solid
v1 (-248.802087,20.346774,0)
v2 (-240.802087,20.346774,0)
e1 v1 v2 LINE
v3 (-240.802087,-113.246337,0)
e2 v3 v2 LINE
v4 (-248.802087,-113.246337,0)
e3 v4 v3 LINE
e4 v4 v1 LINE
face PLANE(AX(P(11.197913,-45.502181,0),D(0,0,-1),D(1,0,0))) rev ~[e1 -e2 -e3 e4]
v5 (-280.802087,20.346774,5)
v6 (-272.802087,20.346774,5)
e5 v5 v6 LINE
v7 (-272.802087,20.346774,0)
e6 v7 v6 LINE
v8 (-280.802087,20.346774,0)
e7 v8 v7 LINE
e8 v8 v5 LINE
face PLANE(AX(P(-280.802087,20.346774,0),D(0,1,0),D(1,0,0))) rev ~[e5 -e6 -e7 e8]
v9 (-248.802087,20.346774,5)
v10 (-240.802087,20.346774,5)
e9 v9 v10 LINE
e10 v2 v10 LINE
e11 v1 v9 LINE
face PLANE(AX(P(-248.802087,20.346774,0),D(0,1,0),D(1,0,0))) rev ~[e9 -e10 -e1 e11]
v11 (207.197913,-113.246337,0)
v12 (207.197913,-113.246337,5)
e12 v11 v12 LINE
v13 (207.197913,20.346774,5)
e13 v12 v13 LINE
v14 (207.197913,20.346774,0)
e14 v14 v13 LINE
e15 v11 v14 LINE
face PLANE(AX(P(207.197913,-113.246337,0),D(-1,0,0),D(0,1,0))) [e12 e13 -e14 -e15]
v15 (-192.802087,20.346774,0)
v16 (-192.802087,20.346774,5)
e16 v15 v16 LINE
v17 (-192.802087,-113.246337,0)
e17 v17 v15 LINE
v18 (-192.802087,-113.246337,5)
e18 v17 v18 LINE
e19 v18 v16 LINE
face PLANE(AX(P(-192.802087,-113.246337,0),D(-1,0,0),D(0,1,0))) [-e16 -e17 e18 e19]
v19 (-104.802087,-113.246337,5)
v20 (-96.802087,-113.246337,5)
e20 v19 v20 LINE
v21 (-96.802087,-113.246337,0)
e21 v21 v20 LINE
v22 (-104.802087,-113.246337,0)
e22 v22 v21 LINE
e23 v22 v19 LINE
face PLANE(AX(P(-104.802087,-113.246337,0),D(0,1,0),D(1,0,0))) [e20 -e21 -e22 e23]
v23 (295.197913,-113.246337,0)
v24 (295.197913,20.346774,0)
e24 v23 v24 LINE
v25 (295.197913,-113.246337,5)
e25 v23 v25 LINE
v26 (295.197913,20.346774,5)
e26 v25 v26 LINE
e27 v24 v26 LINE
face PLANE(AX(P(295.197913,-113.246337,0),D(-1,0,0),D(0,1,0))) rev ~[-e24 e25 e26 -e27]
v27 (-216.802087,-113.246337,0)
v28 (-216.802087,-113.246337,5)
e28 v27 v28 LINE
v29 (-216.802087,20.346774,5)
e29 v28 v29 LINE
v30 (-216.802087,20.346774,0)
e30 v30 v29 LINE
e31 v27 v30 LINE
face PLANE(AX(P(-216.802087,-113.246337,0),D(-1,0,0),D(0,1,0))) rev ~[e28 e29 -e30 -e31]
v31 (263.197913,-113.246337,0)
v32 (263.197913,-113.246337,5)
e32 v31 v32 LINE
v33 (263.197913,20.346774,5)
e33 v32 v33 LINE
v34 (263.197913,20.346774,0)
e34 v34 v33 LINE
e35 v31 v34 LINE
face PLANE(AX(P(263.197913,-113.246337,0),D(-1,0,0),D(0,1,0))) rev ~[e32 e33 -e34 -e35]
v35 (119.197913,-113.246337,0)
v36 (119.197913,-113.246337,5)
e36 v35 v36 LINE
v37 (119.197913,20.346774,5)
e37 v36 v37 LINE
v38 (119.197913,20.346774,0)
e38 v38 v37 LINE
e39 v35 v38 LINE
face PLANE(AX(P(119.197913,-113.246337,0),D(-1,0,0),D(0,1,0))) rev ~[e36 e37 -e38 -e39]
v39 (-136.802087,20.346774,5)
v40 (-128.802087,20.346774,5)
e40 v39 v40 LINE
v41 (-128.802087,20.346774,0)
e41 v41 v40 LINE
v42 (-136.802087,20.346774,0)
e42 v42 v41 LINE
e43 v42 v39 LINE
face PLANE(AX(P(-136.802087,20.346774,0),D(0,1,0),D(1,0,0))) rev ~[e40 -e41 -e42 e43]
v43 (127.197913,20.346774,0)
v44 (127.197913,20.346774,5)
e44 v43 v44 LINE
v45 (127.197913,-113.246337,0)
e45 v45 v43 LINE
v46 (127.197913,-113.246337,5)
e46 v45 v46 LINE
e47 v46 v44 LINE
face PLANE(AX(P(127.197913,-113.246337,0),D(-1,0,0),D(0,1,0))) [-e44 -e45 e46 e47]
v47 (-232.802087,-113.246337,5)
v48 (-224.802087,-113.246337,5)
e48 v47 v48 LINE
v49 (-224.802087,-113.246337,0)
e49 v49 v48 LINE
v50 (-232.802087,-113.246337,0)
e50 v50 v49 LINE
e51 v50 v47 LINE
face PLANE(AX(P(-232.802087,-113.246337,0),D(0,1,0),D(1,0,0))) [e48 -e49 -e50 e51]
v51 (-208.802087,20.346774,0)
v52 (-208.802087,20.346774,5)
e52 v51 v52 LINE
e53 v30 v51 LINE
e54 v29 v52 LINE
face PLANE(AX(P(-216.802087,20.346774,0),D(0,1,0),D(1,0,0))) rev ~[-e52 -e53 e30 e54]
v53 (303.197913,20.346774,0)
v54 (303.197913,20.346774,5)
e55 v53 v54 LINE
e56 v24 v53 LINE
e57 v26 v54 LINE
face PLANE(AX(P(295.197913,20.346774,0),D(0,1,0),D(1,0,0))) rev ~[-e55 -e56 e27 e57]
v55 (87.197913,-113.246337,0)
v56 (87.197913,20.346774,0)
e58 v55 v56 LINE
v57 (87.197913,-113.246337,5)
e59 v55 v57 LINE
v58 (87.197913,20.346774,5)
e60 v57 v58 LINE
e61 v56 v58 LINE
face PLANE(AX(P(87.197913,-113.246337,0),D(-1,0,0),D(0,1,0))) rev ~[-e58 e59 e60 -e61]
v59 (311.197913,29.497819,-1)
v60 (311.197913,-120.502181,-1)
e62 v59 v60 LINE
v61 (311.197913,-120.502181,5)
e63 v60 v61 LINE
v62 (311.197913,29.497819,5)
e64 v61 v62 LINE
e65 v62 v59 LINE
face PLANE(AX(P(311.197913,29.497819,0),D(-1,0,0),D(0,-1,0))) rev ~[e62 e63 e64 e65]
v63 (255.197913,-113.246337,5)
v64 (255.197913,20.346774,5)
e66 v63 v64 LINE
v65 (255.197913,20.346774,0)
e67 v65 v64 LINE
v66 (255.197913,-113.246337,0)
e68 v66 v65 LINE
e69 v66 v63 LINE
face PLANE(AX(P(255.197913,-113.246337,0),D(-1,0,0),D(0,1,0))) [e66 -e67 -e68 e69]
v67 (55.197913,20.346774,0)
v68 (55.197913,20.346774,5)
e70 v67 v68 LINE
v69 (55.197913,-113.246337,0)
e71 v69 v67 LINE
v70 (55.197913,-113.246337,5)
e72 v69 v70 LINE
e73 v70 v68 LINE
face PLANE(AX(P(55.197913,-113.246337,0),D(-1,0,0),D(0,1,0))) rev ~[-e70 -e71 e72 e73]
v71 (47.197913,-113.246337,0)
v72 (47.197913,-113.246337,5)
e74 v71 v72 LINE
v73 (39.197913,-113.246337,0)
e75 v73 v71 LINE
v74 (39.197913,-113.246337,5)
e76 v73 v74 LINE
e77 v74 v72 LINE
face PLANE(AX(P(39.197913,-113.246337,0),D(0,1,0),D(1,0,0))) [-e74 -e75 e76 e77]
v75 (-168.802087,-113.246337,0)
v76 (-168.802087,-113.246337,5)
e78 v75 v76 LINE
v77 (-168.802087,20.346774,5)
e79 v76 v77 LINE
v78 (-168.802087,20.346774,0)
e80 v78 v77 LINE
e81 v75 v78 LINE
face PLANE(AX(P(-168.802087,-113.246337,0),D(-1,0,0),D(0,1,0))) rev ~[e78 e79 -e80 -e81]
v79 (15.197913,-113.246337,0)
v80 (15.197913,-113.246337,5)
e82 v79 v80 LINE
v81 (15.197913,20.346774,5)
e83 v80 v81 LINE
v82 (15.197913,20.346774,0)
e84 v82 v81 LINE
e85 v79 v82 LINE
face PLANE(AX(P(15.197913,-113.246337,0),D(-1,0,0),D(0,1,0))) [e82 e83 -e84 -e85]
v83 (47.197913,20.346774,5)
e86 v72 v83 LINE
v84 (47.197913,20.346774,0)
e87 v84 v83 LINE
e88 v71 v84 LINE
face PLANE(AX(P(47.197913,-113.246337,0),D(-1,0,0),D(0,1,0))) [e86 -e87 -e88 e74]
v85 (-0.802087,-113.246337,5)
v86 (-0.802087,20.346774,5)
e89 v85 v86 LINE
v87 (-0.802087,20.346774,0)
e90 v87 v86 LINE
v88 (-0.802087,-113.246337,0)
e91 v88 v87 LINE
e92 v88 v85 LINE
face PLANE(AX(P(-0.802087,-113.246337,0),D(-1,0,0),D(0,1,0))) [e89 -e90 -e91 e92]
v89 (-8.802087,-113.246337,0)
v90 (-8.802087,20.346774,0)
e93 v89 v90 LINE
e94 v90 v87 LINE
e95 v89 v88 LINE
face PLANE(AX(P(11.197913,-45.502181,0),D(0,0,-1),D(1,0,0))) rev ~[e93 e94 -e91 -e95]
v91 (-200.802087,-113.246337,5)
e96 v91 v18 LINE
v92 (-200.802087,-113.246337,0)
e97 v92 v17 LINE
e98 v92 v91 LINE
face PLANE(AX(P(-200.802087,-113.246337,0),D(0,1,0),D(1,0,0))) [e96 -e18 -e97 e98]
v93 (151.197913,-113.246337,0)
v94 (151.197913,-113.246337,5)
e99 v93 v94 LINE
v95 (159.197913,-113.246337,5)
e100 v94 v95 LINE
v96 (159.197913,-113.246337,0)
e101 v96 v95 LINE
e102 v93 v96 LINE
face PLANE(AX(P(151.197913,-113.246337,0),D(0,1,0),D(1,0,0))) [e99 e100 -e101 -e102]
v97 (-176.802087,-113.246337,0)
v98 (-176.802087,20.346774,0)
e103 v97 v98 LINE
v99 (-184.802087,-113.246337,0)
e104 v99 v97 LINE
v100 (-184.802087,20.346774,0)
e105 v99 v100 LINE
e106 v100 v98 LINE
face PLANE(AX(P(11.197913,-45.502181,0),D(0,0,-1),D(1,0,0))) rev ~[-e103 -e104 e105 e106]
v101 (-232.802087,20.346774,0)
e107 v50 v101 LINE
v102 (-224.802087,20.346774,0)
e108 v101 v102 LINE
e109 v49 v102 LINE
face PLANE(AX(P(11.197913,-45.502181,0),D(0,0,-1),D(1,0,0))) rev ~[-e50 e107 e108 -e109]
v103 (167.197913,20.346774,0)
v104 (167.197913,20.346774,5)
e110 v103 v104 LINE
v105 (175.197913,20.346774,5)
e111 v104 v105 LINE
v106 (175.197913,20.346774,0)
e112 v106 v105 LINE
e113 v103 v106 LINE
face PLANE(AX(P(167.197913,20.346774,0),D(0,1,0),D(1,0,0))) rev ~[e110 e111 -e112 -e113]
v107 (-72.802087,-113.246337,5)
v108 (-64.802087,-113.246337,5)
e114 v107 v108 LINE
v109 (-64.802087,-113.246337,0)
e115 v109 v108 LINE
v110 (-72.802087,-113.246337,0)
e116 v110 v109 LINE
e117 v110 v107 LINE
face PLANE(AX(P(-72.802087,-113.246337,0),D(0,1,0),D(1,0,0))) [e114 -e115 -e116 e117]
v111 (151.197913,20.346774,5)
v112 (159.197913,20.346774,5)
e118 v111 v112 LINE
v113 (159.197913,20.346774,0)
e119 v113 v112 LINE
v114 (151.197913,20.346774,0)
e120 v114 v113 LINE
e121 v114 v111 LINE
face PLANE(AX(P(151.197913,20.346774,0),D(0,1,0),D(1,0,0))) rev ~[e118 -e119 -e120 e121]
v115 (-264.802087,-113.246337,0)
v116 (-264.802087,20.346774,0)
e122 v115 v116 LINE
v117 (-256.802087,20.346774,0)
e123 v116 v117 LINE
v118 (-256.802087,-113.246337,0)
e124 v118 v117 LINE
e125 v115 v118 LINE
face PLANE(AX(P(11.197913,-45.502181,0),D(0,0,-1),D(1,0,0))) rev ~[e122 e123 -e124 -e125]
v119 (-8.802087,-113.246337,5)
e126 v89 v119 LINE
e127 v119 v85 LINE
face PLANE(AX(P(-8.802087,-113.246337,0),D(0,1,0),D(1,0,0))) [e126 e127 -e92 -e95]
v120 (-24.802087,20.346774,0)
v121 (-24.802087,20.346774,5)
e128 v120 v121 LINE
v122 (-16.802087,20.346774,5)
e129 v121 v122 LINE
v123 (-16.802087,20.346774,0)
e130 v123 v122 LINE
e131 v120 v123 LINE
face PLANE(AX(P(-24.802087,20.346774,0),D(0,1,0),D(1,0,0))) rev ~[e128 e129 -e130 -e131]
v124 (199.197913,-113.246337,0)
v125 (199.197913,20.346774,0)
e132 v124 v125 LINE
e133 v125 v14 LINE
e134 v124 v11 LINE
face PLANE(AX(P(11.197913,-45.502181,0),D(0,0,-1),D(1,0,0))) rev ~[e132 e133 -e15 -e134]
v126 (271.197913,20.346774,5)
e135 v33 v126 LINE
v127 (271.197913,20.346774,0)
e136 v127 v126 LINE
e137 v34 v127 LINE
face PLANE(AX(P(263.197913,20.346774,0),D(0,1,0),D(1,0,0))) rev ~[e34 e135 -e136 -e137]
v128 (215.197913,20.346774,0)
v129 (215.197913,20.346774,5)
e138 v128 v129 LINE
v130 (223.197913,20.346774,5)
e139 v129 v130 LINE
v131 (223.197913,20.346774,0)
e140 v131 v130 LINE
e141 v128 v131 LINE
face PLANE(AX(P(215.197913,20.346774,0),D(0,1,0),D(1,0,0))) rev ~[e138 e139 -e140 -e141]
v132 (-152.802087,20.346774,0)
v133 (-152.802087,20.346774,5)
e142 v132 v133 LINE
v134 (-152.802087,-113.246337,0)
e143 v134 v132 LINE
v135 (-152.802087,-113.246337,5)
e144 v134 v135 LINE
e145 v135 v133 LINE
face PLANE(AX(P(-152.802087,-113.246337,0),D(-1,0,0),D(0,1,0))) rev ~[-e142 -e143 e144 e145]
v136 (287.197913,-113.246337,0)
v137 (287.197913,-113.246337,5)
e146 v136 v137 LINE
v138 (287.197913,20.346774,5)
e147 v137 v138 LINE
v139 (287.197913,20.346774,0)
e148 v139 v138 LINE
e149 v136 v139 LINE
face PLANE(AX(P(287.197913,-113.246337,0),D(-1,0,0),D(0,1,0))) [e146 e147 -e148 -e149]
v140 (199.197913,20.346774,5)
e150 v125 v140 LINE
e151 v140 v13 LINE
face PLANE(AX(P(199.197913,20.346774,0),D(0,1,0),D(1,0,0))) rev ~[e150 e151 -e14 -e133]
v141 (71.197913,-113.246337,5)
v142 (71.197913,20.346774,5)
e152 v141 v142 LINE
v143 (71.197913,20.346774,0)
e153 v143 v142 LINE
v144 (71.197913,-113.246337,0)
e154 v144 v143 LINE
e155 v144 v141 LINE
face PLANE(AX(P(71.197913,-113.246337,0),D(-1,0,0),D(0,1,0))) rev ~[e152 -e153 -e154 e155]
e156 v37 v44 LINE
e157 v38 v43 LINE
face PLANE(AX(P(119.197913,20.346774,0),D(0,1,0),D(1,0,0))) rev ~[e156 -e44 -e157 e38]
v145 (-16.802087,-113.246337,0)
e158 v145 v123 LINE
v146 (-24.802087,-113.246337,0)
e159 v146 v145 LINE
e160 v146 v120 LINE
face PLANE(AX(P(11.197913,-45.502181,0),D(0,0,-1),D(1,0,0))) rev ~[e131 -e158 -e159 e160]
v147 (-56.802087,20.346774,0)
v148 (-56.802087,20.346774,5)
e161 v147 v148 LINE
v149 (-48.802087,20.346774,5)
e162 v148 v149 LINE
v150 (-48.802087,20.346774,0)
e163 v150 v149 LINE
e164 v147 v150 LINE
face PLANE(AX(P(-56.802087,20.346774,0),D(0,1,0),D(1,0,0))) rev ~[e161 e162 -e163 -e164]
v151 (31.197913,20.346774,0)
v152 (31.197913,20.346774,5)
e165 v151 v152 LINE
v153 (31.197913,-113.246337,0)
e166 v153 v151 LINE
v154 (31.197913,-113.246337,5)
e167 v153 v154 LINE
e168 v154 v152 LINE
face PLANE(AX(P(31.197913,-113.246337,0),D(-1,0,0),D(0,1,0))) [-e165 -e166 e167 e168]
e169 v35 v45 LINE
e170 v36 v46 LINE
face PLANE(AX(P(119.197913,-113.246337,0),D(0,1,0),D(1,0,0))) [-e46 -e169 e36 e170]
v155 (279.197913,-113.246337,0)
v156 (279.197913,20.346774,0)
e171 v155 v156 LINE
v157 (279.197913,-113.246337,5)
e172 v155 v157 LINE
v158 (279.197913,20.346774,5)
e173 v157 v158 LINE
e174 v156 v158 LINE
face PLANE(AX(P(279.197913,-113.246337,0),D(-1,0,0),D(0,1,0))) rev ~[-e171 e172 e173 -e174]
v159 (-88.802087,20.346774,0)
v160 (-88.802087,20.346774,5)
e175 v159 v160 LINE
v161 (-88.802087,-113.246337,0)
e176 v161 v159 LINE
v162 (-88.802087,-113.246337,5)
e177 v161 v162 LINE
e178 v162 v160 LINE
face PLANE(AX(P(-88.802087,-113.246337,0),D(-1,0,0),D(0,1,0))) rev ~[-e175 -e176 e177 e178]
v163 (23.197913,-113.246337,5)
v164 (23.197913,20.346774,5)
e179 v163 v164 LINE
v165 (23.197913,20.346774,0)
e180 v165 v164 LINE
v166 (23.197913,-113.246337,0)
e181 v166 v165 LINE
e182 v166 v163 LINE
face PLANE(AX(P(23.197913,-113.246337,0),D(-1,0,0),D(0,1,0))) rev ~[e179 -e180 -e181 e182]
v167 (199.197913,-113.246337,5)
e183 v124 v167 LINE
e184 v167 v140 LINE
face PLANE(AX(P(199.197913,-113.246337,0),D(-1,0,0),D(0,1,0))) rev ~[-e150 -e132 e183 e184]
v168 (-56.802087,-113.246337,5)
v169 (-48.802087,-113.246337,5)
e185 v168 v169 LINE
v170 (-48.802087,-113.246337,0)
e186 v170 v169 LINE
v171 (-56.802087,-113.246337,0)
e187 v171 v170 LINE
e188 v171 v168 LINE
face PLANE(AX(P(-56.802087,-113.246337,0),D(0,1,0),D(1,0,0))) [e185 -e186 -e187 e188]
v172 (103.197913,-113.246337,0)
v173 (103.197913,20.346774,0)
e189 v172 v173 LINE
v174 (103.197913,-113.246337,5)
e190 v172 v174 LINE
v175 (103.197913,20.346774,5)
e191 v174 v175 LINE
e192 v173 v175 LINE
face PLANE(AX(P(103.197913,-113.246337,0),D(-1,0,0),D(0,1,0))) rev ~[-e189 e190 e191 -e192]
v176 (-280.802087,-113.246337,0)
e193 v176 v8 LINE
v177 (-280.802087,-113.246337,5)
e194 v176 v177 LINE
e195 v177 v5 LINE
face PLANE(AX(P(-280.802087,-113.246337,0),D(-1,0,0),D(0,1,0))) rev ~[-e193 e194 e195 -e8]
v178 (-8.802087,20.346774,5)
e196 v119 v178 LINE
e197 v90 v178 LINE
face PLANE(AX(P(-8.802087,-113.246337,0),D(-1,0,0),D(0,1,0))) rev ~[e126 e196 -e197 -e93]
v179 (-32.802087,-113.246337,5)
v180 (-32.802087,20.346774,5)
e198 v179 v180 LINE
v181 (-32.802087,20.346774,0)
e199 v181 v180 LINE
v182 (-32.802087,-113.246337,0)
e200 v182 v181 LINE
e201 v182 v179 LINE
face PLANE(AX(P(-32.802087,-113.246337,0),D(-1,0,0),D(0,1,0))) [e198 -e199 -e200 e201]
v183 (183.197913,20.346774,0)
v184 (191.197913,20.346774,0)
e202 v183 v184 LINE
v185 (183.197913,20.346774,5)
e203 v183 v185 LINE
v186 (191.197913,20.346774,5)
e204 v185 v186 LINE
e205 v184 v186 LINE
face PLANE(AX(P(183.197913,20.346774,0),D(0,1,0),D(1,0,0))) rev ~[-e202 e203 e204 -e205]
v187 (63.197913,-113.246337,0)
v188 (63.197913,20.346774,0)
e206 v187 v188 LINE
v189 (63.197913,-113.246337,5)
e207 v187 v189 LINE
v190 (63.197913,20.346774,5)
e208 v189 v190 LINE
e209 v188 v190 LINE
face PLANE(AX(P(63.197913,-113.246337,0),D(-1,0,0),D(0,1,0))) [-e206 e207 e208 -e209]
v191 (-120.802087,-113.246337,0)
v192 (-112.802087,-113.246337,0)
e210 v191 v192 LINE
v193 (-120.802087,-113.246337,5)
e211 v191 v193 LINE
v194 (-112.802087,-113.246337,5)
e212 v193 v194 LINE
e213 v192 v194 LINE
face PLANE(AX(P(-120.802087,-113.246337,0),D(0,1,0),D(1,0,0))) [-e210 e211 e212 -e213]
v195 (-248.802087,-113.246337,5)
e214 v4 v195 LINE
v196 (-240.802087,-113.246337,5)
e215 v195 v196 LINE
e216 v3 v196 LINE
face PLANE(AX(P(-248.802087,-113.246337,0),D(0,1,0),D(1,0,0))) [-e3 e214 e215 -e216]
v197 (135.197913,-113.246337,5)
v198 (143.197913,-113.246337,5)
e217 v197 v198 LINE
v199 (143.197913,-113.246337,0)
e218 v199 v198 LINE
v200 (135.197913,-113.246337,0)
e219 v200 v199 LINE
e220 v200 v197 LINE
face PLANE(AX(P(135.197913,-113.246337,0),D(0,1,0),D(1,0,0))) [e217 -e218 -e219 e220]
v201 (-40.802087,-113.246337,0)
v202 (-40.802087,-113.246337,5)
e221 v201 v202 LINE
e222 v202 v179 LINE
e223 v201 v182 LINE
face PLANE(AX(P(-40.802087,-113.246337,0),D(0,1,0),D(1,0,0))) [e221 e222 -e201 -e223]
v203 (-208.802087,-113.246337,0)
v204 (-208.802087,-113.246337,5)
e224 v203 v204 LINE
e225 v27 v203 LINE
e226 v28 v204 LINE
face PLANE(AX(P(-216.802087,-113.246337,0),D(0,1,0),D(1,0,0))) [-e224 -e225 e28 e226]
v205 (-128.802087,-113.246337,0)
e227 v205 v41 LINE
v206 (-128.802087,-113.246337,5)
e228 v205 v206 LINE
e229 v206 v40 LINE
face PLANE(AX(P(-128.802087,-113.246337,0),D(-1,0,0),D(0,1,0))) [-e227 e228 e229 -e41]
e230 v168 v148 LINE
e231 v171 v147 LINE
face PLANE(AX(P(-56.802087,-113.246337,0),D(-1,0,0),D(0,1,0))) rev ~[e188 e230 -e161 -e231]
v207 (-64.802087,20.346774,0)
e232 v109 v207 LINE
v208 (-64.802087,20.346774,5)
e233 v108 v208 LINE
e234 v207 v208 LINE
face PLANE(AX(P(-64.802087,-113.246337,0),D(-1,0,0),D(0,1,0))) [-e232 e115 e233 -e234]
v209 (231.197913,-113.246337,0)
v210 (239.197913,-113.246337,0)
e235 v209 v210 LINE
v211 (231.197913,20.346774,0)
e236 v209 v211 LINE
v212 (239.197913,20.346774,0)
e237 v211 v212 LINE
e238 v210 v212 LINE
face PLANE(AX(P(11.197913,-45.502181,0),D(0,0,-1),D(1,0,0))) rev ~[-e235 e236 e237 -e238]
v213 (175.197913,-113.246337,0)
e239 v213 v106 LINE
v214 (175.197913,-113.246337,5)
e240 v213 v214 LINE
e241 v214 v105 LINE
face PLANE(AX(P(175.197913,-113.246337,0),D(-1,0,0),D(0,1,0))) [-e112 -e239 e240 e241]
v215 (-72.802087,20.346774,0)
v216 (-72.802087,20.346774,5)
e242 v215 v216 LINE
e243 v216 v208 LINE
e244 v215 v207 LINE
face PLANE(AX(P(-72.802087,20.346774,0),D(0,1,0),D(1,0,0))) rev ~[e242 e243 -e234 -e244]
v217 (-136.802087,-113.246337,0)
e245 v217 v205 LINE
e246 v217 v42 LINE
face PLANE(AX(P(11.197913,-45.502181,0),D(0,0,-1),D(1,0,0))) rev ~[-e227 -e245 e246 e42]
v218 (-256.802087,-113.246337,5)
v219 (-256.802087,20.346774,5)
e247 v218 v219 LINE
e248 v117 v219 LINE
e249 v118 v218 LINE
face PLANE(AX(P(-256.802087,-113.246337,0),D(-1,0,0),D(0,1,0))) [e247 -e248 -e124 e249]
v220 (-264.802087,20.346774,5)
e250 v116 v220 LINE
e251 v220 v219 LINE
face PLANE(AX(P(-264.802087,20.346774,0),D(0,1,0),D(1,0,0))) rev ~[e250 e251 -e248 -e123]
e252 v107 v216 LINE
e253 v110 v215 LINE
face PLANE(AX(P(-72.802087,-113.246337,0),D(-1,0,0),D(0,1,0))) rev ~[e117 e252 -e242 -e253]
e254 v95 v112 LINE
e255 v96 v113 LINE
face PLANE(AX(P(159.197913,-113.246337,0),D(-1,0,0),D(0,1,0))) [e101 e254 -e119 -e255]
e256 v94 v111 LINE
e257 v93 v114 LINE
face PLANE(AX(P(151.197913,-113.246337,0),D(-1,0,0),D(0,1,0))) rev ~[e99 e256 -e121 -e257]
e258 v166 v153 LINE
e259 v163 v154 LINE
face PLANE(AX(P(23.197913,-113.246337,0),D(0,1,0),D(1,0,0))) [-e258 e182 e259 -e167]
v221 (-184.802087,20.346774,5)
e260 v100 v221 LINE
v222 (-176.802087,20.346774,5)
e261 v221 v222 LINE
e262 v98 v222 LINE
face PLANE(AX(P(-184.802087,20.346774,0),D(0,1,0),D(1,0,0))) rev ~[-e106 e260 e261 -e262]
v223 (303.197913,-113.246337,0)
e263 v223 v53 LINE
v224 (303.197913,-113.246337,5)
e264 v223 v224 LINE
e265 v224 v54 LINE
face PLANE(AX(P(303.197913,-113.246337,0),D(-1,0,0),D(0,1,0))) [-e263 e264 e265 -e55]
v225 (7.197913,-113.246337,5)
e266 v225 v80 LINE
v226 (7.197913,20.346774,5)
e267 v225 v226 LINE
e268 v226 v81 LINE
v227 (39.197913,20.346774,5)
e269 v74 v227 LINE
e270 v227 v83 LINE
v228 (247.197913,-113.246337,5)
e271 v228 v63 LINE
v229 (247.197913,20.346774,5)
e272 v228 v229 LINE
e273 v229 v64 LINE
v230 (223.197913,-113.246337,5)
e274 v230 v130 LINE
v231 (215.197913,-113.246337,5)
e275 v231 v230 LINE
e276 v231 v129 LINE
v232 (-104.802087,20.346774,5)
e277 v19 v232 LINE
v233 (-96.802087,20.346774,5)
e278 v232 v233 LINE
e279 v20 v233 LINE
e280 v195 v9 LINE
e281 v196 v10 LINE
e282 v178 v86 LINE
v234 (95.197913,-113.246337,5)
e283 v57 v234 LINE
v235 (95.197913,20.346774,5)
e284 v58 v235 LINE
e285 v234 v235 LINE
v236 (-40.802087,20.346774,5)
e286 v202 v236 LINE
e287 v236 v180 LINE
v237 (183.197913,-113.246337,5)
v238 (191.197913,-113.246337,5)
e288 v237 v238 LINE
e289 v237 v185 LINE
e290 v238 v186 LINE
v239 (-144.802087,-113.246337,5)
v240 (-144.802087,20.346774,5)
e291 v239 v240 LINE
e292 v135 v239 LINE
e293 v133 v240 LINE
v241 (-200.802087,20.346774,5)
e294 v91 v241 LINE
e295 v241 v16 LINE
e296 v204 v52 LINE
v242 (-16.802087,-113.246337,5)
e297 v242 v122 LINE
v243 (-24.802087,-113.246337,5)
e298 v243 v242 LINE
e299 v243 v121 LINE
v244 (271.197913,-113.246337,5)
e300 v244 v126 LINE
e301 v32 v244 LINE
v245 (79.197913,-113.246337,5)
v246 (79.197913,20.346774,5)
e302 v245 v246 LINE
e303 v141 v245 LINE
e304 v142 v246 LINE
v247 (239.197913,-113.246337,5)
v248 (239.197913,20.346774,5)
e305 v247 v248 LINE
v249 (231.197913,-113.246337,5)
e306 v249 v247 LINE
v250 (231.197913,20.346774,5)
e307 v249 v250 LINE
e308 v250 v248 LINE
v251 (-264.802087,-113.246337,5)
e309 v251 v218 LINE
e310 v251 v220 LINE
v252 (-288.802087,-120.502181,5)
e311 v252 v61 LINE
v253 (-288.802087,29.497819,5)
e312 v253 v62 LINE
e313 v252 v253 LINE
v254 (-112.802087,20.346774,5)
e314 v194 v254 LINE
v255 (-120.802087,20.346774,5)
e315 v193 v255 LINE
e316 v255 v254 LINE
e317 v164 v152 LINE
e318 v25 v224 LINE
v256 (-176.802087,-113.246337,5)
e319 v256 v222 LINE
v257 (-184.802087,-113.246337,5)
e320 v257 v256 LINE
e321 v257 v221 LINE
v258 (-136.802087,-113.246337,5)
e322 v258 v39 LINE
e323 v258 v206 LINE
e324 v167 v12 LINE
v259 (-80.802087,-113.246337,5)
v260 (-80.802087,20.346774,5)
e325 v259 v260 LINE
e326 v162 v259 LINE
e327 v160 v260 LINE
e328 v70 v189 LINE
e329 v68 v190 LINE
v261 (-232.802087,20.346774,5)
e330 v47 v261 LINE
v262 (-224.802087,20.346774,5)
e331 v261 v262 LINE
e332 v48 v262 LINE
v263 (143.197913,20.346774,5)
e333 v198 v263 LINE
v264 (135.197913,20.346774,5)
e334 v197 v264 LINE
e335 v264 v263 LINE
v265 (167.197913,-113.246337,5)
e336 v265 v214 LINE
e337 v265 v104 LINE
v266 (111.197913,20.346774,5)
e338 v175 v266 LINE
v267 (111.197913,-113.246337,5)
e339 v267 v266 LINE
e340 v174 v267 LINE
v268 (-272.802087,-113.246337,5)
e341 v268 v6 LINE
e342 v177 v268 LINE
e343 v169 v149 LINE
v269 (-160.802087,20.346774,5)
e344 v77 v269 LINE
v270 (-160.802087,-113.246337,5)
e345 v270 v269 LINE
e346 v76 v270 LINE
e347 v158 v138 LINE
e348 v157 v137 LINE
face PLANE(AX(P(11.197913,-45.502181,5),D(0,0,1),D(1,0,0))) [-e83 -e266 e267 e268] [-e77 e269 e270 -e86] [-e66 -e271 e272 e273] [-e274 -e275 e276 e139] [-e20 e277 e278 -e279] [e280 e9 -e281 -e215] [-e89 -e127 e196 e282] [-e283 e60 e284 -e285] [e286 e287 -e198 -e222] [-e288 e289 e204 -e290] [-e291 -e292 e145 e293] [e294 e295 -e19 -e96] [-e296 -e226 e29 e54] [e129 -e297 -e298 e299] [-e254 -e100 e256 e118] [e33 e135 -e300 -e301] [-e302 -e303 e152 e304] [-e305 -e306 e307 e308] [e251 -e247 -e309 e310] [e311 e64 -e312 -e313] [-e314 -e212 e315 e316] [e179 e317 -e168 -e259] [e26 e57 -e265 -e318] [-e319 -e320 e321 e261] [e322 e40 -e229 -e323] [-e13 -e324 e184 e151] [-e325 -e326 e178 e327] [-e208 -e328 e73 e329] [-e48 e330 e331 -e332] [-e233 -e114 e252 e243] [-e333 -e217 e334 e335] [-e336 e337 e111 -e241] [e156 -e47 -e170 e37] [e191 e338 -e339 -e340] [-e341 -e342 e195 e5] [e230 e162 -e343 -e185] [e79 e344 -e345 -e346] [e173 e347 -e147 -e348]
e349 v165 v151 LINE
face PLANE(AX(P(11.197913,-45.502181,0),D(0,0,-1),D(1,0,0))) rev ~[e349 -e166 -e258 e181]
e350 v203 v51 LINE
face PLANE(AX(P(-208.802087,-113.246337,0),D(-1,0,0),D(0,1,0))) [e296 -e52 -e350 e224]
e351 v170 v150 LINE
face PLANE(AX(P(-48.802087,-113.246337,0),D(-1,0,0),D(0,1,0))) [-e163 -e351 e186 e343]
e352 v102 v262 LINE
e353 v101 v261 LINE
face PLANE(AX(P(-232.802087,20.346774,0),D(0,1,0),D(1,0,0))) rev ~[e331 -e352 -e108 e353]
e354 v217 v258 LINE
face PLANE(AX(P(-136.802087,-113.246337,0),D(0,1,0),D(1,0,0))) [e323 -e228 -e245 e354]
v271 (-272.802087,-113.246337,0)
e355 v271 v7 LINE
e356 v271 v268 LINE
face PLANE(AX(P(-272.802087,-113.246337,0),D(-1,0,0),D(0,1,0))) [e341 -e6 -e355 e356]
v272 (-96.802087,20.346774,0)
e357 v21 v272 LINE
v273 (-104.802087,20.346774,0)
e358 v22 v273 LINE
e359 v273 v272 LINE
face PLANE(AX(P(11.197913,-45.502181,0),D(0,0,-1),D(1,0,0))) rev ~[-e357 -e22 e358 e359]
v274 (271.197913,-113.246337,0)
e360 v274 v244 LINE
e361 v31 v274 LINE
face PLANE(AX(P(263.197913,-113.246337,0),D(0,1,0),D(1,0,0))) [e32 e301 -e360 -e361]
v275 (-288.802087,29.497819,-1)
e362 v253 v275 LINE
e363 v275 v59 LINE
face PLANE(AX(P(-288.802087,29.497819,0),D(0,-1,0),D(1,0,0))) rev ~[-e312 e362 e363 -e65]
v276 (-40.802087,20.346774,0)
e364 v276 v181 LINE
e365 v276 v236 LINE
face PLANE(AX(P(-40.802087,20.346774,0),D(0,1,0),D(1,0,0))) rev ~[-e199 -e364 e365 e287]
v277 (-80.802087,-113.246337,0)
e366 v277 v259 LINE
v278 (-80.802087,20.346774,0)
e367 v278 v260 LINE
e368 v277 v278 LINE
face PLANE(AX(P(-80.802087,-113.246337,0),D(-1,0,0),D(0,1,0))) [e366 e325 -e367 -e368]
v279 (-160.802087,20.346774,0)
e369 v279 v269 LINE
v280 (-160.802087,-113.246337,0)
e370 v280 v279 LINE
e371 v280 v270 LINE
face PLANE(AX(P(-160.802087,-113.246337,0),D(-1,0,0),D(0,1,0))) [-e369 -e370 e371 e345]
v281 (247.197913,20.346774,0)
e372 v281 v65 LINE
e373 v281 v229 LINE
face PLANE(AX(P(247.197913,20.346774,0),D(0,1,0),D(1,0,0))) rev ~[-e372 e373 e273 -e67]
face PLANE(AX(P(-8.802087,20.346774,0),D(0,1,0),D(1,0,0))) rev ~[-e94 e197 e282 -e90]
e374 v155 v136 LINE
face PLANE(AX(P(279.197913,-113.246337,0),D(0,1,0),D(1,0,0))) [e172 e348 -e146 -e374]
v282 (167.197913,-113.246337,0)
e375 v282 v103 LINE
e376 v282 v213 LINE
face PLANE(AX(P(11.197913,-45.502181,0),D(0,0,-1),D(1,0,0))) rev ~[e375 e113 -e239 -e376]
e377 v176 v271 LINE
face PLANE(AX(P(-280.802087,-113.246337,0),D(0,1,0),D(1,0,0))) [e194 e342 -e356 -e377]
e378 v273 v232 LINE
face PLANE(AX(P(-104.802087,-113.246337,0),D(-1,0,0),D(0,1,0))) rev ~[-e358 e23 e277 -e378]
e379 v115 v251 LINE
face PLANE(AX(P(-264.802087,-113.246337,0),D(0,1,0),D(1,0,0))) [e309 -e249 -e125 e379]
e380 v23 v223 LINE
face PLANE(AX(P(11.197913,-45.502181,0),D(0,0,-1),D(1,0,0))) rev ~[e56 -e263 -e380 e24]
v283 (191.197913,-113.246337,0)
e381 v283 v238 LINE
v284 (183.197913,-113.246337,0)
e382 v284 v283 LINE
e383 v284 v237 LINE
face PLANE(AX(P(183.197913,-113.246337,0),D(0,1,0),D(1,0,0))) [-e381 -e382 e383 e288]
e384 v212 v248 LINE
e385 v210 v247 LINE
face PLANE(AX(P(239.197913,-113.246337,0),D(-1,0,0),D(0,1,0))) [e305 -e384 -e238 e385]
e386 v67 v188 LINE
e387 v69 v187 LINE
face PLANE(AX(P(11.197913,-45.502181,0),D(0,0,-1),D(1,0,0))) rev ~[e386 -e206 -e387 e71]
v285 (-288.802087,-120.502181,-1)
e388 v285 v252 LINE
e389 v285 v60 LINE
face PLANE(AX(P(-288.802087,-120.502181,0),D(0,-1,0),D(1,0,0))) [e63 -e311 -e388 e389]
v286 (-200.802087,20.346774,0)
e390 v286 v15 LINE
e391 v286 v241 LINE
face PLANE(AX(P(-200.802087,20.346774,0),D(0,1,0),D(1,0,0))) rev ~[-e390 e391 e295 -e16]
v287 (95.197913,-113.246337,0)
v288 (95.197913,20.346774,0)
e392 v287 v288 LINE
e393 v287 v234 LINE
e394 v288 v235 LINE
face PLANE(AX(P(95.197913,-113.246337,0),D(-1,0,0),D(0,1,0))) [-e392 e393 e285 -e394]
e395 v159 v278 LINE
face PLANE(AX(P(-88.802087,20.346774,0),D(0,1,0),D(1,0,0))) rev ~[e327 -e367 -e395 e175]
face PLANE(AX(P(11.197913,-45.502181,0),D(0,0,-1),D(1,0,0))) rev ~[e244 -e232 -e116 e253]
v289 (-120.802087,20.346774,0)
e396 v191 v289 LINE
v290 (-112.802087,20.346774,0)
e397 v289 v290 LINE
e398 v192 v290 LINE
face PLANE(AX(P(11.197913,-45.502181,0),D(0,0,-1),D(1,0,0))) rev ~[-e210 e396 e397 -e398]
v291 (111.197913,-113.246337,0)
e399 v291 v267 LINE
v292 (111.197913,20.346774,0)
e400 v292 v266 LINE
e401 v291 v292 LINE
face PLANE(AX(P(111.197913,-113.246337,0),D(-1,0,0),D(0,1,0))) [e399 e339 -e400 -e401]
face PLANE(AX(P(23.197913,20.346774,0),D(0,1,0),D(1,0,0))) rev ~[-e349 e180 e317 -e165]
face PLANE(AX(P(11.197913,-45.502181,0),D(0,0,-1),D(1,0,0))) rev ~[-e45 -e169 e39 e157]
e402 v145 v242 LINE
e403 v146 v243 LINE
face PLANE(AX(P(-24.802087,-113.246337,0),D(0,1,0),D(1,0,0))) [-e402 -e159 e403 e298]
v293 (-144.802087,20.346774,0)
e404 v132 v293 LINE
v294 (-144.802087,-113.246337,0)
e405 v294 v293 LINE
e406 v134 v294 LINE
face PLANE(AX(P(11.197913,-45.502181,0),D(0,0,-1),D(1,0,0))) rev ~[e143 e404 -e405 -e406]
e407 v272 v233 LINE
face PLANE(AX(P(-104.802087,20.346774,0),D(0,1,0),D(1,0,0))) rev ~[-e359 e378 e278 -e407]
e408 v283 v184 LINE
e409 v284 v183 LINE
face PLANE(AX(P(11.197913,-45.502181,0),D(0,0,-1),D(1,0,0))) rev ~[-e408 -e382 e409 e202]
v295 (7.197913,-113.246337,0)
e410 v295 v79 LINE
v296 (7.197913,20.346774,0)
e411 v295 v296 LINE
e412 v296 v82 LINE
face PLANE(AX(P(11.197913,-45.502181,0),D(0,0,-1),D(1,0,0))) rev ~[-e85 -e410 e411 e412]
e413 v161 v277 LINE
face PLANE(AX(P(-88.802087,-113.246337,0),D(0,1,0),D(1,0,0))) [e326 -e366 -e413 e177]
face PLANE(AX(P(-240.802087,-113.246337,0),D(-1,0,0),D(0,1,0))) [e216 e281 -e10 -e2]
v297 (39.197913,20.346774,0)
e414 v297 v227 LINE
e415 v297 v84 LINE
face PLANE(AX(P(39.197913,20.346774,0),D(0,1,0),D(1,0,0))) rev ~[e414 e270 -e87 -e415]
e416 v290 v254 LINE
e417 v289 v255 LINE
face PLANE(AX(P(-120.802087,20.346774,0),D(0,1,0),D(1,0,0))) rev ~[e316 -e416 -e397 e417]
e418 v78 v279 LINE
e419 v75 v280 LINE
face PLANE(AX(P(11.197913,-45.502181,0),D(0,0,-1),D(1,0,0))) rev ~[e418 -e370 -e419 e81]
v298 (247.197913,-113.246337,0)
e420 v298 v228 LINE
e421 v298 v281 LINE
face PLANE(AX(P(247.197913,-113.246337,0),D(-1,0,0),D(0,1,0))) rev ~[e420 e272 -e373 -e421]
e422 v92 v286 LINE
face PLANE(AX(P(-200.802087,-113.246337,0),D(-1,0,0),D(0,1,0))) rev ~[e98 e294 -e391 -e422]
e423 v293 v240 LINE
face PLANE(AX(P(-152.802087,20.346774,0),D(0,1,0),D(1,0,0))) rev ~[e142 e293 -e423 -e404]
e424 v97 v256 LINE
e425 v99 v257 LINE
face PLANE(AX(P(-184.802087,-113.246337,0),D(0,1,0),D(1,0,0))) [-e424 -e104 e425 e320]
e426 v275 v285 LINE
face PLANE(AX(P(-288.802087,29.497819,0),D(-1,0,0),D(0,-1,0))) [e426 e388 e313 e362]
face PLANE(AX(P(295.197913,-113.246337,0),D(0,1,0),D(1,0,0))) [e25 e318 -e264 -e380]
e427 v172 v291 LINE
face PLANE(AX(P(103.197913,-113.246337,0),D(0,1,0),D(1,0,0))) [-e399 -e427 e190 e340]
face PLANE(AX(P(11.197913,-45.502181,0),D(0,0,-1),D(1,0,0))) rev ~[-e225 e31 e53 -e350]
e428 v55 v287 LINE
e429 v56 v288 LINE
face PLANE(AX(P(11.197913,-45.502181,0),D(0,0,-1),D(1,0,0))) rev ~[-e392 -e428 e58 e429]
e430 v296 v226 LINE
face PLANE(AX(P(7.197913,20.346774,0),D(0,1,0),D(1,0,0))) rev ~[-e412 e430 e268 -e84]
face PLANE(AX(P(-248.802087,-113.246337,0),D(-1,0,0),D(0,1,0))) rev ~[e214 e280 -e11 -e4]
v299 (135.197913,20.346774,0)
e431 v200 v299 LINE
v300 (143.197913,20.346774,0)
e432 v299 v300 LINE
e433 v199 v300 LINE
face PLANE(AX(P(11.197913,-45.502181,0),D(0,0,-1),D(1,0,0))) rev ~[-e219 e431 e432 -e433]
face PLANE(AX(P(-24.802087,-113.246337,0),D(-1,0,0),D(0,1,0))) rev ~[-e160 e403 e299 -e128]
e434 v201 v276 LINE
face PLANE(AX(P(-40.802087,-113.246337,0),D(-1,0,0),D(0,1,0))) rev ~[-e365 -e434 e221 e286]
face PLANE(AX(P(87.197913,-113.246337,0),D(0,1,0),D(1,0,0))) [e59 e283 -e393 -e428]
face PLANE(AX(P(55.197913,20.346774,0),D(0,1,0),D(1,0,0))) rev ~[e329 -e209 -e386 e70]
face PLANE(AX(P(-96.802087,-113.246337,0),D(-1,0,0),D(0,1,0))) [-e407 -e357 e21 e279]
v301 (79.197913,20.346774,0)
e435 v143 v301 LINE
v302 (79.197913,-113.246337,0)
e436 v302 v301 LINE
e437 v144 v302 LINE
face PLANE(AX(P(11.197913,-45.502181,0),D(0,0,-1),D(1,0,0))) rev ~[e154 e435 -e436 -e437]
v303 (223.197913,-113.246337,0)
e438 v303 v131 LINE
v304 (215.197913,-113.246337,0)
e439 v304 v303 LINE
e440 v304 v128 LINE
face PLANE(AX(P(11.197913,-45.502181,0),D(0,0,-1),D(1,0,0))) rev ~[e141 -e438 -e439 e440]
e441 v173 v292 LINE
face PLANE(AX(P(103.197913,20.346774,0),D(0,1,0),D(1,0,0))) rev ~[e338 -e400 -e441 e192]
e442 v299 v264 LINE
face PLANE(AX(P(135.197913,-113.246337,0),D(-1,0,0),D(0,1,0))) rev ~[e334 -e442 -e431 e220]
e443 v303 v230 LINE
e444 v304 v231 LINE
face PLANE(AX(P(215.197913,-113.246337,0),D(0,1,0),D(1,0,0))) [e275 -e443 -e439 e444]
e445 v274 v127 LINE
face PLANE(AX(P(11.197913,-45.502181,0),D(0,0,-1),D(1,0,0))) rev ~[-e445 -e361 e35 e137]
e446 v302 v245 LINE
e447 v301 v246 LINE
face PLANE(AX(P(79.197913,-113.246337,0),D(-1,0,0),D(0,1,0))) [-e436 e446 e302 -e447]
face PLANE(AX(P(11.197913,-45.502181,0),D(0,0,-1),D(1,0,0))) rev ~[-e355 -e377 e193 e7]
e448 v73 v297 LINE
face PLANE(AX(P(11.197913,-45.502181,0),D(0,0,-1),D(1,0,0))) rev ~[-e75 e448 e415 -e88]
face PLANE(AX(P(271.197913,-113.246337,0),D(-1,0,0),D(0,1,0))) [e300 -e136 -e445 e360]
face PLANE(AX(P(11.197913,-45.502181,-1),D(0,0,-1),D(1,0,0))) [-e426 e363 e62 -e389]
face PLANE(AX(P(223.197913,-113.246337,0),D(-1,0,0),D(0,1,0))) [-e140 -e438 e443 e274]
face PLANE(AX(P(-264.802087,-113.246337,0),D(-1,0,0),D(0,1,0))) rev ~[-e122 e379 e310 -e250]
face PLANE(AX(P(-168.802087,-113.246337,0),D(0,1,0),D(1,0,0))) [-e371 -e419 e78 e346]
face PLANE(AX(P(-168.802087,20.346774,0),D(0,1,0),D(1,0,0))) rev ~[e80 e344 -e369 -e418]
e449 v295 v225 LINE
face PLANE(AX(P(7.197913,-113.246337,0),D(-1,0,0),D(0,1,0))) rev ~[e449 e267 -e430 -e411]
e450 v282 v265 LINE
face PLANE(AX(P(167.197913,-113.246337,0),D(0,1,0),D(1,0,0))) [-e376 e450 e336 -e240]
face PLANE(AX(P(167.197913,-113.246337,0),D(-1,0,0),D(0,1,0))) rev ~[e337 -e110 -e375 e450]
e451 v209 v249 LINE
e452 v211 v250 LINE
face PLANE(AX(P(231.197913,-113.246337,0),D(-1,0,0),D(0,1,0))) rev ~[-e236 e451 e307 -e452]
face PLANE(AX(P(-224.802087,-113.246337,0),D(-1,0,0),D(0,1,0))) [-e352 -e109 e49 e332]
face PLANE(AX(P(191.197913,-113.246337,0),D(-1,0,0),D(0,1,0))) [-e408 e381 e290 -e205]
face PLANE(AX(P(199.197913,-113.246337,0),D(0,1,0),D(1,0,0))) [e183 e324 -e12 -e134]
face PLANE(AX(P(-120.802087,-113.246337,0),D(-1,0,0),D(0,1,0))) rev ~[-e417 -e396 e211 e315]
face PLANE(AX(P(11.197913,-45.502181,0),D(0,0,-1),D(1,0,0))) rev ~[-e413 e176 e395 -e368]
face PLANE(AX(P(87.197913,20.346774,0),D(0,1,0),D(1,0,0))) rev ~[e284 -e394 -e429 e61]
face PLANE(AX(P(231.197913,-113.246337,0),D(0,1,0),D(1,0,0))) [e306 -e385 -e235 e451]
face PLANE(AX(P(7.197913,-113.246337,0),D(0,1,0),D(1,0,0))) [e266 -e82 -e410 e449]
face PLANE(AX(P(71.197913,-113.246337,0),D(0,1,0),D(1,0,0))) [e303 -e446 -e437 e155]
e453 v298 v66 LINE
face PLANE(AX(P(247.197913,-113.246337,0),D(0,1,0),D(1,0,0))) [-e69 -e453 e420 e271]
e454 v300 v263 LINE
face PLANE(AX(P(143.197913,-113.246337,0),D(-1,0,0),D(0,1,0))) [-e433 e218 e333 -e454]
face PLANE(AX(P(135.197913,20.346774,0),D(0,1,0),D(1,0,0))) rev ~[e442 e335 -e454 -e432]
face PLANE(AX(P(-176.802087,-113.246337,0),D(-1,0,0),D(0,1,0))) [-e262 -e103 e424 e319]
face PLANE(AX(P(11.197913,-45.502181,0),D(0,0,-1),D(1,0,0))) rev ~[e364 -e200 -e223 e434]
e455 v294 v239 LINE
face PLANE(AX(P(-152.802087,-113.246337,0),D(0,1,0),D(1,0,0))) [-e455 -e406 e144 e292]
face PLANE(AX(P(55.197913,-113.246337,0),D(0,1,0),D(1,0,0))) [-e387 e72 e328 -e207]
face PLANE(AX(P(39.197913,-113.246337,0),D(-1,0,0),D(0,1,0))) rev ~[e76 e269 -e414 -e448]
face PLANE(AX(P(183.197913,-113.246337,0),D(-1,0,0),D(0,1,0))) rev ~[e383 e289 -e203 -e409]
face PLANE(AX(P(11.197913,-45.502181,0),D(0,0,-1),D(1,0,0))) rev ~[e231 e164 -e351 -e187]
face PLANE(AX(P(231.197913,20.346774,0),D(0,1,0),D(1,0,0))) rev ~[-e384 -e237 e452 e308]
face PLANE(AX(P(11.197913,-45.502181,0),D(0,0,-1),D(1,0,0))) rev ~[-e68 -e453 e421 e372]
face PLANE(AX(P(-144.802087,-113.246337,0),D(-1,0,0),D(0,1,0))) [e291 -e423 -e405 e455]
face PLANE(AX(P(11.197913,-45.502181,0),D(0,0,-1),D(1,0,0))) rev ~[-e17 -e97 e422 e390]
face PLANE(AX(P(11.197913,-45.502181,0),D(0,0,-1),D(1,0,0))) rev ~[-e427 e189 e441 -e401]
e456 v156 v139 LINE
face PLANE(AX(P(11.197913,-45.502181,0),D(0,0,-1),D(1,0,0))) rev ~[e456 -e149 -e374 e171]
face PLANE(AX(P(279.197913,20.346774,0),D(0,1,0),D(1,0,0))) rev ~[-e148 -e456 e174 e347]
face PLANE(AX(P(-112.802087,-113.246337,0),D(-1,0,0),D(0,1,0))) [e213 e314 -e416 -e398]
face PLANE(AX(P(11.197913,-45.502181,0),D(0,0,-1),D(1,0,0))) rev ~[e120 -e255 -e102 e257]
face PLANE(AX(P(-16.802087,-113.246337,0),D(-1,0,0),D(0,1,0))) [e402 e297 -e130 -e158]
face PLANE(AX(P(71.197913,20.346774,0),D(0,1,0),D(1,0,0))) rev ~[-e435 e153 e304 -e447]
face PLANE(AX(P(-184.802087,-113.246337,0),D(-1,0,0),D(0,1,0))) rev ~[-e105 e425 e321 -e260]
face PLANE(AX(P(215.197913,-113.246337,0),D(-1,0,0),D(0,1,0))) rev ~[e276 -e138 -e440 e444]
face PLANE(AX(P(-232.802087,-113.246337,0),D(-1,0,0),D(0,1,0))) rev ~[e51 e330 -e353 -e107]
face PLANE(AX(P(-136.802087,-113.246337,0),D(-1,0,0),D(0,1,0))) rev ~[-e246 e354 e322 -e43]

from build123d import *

# Parameters (mm, degrees)
F0_W     = 600
F0_H     = 150
F0_W_2   = 8
F0_H_2   = 133.593111
F1_DEPTH = 5
F2_W     = 600
F2_H     = 150
F3_DEPTH = 1


with BuildPart() as f1:
    # F0 (on Top) → F1 (new body)
    with BuildSketch(Plane.XY):
        with Locations((11.197913, -45.502181)):
            Rectangle(F0_W, F0_H)
        with Locations((-276.802087, -46.449782)):
            Rectangle(F0_W_2, F0_H_2, mode=Mode.SUBTRACT)
        with Locations((-260.802087, -46.449782)):
            Rectangle(F0_W_2, F0_H_2, mode=Mode.SUBTRACT)
        with Locations((-244.802087, -46.449782)):
            Rectangle(F0_W_2, F0_H_2, mode=Mode.SUBTRACT)
        with Locations((-228.802087, -46.449782)):
            Rectangle(F0_W_2, F0_H_2, mode=Mode.SUBTRACT)
        with Locations((-212.802087, -46.449782)):
            Rectangle(F0_W_2, F0_H_2, mode=Mode.SUBTRACT)
        with Locations((-196.802087, -46.449782)):
            Rectangle(F0_W_2, F0_H_2, mode=Mode.SUBTRACT)
        with Locations((-180.802087, -46.449782)):
            Rectangle(F0_W_2, F0_H_2, mode=Mode.SUBTRACT)
        with Locations((-164.802087, -46.449782)):
            Rectangle(F0_W_2, F0_H_2, mode=Mode.SUBTRACT)
        with Locations((-148.802087, -46.449782)):
            Rectangle(F0_W_2, F0_H_2, mode=Mode.SUBTRACT)
        with Locations((-132.802087, -46.449782)):
            Rectangle(F0_W_2, F0_H_2, mode=Mode.SUBTRACT)
        with Locations((-116.802087, -46.449782)):
            Rectangle(F0_W_2, F0_H_2, mode=Mode.SUBTRACT)
        with Locations((-100.802087, -46.449782)):
            Rectangle(F0_W_2, F0_H_2, mode=Mode.SUBTRACT)
        with Locations((-84.802087, -46.449782)):
            Rectangle(F0_W_2, F0_H_2, mode=Mode.SUBTRACT)
        with Locations((-68.802087, -46.449782)):
            Rectangle(F0_W_2, F0_H_2, mode=Mode.SUBTRACT)
        with Locations((-52.802087, -46.449782)):
            Rectangle(F0_W_2, F0_H_2, mode=Mode.SUBTRACT)
        with Locations((-36.802087, -46.449782)):
            Rectangle(F0_W_2, F0_H_2, mode=Mode.SUBTRACT)
        with Locations((-20.802087, -46.449782)):
            Rectangle(F0_W_2, F0_H_2, mode=Mode.SUBTRACT)
        with Locations((-4.802087, -46.449782)):
            Rectangle(F0_W_2, F0_H_2, mode=Mode.SUBTRACT)
        with Locations((11.197913, -46.449782)):
            Rectangle(F0_W_2, F0_H_2, mode=Mode.SUBTRACT)
        with Locations((27.197913, -46.449782)):
            Rectangle(F0_W_2, F0_H_2, mode=Mode.SUBTRACT)
        with Locations((43.197913, -46.449782)):
            Rectangle(F0_W_2, F0_H_2, mode=Mode.SUBTRACT)
        with Locations((59.197913, -46.449782)):
            Rectangle(F0_W_2, F0_H_2, mode=Mode.SUBTRACT)
        with Locations((75.197913, -46.449782)):
            Rectangle(F0_W_2, F0_H_2, mode=Mode.SUBTRACT)
        with Locations((91.197913, -46.449782)):
            Rectangle(F0_W_2, F0_H_2, mode=Mode.SUBTRACT)
        with Locations((107.197913, -46.449782)):
            Rectangle(F0_W_2, F0_H_2, mode=Mode.SUBTRACT)
        with Locations((123.197913, -46.449782)):
            Rectangle(F0_W_2, F0_H_2, mode=Mode.SUBTRACT)
        with Locations((139.197913, -46.449782)):
            Rectangle(F0_W_2, F0_H_2, mode=Mode.SUBTRACT)
        with Locations((155.197913, -46.449782)):
            Rectangle(F0_W_2, F0_H_2, mode=Mode.SUBTRACT)
        with Locations((171.197913, -46.449782)):
            Rectangle(F0_W_2, F0_H_2, mode=Mode.SUBTRACT)
        with Locations((187.197913, -46.449782)):
            Rectangle(F0_W_2, F0_H_2, mode=Mode.SUBTRACT)
        with Locations((203.197913, -46.449782)):
            Rectangle(F0_W_2, F0_H_2, mode=Mode.SUBTRACT)
        with Locations((219.197913, -46.449782)):
            Rectangle(F0_W_2, F0_H_2, mode=Mode.SUBTRACT)
        with Locations((235.197913, -46.449782)):
            Rectangle(F0_W_2, F0_H_2, mode=Mode.SUBTRACT)
        with Locations((251.197913, -46.449782)):
            Rectangle(F0_W_2, F0_H_2, mode=Mode.SUBTRACT)
        with Locations((267.197913, -46.449782)):
            Rectangle(F0_W_2, F0_H_2, mode=Mode.SUBTRACT)
        with Locations((283.197913, -46.449782)):
            Rectangle(F0_W_2, F0_H_2, mode=Mode.SUBTRACT)
        with Locations((299.197913, -46.449782)):
            Rectangle(F0_W_2, F0_H_2, mode=Mode.SUBTRACT)
    extrude(amount=F1_DEPTH)

    # F2 (on face) → F3 (join)
    with BuildSketch(Plane(origin=(0, 0, 0), x_dir=(1, 0, 0), z_dir=(0, 0, -1))):
        with Locations((11.197913, 45.502181)):
            Rectangle(F2_W, F2_H)
    extrude(amount=F3_DEPTH)


solid = f1.part
